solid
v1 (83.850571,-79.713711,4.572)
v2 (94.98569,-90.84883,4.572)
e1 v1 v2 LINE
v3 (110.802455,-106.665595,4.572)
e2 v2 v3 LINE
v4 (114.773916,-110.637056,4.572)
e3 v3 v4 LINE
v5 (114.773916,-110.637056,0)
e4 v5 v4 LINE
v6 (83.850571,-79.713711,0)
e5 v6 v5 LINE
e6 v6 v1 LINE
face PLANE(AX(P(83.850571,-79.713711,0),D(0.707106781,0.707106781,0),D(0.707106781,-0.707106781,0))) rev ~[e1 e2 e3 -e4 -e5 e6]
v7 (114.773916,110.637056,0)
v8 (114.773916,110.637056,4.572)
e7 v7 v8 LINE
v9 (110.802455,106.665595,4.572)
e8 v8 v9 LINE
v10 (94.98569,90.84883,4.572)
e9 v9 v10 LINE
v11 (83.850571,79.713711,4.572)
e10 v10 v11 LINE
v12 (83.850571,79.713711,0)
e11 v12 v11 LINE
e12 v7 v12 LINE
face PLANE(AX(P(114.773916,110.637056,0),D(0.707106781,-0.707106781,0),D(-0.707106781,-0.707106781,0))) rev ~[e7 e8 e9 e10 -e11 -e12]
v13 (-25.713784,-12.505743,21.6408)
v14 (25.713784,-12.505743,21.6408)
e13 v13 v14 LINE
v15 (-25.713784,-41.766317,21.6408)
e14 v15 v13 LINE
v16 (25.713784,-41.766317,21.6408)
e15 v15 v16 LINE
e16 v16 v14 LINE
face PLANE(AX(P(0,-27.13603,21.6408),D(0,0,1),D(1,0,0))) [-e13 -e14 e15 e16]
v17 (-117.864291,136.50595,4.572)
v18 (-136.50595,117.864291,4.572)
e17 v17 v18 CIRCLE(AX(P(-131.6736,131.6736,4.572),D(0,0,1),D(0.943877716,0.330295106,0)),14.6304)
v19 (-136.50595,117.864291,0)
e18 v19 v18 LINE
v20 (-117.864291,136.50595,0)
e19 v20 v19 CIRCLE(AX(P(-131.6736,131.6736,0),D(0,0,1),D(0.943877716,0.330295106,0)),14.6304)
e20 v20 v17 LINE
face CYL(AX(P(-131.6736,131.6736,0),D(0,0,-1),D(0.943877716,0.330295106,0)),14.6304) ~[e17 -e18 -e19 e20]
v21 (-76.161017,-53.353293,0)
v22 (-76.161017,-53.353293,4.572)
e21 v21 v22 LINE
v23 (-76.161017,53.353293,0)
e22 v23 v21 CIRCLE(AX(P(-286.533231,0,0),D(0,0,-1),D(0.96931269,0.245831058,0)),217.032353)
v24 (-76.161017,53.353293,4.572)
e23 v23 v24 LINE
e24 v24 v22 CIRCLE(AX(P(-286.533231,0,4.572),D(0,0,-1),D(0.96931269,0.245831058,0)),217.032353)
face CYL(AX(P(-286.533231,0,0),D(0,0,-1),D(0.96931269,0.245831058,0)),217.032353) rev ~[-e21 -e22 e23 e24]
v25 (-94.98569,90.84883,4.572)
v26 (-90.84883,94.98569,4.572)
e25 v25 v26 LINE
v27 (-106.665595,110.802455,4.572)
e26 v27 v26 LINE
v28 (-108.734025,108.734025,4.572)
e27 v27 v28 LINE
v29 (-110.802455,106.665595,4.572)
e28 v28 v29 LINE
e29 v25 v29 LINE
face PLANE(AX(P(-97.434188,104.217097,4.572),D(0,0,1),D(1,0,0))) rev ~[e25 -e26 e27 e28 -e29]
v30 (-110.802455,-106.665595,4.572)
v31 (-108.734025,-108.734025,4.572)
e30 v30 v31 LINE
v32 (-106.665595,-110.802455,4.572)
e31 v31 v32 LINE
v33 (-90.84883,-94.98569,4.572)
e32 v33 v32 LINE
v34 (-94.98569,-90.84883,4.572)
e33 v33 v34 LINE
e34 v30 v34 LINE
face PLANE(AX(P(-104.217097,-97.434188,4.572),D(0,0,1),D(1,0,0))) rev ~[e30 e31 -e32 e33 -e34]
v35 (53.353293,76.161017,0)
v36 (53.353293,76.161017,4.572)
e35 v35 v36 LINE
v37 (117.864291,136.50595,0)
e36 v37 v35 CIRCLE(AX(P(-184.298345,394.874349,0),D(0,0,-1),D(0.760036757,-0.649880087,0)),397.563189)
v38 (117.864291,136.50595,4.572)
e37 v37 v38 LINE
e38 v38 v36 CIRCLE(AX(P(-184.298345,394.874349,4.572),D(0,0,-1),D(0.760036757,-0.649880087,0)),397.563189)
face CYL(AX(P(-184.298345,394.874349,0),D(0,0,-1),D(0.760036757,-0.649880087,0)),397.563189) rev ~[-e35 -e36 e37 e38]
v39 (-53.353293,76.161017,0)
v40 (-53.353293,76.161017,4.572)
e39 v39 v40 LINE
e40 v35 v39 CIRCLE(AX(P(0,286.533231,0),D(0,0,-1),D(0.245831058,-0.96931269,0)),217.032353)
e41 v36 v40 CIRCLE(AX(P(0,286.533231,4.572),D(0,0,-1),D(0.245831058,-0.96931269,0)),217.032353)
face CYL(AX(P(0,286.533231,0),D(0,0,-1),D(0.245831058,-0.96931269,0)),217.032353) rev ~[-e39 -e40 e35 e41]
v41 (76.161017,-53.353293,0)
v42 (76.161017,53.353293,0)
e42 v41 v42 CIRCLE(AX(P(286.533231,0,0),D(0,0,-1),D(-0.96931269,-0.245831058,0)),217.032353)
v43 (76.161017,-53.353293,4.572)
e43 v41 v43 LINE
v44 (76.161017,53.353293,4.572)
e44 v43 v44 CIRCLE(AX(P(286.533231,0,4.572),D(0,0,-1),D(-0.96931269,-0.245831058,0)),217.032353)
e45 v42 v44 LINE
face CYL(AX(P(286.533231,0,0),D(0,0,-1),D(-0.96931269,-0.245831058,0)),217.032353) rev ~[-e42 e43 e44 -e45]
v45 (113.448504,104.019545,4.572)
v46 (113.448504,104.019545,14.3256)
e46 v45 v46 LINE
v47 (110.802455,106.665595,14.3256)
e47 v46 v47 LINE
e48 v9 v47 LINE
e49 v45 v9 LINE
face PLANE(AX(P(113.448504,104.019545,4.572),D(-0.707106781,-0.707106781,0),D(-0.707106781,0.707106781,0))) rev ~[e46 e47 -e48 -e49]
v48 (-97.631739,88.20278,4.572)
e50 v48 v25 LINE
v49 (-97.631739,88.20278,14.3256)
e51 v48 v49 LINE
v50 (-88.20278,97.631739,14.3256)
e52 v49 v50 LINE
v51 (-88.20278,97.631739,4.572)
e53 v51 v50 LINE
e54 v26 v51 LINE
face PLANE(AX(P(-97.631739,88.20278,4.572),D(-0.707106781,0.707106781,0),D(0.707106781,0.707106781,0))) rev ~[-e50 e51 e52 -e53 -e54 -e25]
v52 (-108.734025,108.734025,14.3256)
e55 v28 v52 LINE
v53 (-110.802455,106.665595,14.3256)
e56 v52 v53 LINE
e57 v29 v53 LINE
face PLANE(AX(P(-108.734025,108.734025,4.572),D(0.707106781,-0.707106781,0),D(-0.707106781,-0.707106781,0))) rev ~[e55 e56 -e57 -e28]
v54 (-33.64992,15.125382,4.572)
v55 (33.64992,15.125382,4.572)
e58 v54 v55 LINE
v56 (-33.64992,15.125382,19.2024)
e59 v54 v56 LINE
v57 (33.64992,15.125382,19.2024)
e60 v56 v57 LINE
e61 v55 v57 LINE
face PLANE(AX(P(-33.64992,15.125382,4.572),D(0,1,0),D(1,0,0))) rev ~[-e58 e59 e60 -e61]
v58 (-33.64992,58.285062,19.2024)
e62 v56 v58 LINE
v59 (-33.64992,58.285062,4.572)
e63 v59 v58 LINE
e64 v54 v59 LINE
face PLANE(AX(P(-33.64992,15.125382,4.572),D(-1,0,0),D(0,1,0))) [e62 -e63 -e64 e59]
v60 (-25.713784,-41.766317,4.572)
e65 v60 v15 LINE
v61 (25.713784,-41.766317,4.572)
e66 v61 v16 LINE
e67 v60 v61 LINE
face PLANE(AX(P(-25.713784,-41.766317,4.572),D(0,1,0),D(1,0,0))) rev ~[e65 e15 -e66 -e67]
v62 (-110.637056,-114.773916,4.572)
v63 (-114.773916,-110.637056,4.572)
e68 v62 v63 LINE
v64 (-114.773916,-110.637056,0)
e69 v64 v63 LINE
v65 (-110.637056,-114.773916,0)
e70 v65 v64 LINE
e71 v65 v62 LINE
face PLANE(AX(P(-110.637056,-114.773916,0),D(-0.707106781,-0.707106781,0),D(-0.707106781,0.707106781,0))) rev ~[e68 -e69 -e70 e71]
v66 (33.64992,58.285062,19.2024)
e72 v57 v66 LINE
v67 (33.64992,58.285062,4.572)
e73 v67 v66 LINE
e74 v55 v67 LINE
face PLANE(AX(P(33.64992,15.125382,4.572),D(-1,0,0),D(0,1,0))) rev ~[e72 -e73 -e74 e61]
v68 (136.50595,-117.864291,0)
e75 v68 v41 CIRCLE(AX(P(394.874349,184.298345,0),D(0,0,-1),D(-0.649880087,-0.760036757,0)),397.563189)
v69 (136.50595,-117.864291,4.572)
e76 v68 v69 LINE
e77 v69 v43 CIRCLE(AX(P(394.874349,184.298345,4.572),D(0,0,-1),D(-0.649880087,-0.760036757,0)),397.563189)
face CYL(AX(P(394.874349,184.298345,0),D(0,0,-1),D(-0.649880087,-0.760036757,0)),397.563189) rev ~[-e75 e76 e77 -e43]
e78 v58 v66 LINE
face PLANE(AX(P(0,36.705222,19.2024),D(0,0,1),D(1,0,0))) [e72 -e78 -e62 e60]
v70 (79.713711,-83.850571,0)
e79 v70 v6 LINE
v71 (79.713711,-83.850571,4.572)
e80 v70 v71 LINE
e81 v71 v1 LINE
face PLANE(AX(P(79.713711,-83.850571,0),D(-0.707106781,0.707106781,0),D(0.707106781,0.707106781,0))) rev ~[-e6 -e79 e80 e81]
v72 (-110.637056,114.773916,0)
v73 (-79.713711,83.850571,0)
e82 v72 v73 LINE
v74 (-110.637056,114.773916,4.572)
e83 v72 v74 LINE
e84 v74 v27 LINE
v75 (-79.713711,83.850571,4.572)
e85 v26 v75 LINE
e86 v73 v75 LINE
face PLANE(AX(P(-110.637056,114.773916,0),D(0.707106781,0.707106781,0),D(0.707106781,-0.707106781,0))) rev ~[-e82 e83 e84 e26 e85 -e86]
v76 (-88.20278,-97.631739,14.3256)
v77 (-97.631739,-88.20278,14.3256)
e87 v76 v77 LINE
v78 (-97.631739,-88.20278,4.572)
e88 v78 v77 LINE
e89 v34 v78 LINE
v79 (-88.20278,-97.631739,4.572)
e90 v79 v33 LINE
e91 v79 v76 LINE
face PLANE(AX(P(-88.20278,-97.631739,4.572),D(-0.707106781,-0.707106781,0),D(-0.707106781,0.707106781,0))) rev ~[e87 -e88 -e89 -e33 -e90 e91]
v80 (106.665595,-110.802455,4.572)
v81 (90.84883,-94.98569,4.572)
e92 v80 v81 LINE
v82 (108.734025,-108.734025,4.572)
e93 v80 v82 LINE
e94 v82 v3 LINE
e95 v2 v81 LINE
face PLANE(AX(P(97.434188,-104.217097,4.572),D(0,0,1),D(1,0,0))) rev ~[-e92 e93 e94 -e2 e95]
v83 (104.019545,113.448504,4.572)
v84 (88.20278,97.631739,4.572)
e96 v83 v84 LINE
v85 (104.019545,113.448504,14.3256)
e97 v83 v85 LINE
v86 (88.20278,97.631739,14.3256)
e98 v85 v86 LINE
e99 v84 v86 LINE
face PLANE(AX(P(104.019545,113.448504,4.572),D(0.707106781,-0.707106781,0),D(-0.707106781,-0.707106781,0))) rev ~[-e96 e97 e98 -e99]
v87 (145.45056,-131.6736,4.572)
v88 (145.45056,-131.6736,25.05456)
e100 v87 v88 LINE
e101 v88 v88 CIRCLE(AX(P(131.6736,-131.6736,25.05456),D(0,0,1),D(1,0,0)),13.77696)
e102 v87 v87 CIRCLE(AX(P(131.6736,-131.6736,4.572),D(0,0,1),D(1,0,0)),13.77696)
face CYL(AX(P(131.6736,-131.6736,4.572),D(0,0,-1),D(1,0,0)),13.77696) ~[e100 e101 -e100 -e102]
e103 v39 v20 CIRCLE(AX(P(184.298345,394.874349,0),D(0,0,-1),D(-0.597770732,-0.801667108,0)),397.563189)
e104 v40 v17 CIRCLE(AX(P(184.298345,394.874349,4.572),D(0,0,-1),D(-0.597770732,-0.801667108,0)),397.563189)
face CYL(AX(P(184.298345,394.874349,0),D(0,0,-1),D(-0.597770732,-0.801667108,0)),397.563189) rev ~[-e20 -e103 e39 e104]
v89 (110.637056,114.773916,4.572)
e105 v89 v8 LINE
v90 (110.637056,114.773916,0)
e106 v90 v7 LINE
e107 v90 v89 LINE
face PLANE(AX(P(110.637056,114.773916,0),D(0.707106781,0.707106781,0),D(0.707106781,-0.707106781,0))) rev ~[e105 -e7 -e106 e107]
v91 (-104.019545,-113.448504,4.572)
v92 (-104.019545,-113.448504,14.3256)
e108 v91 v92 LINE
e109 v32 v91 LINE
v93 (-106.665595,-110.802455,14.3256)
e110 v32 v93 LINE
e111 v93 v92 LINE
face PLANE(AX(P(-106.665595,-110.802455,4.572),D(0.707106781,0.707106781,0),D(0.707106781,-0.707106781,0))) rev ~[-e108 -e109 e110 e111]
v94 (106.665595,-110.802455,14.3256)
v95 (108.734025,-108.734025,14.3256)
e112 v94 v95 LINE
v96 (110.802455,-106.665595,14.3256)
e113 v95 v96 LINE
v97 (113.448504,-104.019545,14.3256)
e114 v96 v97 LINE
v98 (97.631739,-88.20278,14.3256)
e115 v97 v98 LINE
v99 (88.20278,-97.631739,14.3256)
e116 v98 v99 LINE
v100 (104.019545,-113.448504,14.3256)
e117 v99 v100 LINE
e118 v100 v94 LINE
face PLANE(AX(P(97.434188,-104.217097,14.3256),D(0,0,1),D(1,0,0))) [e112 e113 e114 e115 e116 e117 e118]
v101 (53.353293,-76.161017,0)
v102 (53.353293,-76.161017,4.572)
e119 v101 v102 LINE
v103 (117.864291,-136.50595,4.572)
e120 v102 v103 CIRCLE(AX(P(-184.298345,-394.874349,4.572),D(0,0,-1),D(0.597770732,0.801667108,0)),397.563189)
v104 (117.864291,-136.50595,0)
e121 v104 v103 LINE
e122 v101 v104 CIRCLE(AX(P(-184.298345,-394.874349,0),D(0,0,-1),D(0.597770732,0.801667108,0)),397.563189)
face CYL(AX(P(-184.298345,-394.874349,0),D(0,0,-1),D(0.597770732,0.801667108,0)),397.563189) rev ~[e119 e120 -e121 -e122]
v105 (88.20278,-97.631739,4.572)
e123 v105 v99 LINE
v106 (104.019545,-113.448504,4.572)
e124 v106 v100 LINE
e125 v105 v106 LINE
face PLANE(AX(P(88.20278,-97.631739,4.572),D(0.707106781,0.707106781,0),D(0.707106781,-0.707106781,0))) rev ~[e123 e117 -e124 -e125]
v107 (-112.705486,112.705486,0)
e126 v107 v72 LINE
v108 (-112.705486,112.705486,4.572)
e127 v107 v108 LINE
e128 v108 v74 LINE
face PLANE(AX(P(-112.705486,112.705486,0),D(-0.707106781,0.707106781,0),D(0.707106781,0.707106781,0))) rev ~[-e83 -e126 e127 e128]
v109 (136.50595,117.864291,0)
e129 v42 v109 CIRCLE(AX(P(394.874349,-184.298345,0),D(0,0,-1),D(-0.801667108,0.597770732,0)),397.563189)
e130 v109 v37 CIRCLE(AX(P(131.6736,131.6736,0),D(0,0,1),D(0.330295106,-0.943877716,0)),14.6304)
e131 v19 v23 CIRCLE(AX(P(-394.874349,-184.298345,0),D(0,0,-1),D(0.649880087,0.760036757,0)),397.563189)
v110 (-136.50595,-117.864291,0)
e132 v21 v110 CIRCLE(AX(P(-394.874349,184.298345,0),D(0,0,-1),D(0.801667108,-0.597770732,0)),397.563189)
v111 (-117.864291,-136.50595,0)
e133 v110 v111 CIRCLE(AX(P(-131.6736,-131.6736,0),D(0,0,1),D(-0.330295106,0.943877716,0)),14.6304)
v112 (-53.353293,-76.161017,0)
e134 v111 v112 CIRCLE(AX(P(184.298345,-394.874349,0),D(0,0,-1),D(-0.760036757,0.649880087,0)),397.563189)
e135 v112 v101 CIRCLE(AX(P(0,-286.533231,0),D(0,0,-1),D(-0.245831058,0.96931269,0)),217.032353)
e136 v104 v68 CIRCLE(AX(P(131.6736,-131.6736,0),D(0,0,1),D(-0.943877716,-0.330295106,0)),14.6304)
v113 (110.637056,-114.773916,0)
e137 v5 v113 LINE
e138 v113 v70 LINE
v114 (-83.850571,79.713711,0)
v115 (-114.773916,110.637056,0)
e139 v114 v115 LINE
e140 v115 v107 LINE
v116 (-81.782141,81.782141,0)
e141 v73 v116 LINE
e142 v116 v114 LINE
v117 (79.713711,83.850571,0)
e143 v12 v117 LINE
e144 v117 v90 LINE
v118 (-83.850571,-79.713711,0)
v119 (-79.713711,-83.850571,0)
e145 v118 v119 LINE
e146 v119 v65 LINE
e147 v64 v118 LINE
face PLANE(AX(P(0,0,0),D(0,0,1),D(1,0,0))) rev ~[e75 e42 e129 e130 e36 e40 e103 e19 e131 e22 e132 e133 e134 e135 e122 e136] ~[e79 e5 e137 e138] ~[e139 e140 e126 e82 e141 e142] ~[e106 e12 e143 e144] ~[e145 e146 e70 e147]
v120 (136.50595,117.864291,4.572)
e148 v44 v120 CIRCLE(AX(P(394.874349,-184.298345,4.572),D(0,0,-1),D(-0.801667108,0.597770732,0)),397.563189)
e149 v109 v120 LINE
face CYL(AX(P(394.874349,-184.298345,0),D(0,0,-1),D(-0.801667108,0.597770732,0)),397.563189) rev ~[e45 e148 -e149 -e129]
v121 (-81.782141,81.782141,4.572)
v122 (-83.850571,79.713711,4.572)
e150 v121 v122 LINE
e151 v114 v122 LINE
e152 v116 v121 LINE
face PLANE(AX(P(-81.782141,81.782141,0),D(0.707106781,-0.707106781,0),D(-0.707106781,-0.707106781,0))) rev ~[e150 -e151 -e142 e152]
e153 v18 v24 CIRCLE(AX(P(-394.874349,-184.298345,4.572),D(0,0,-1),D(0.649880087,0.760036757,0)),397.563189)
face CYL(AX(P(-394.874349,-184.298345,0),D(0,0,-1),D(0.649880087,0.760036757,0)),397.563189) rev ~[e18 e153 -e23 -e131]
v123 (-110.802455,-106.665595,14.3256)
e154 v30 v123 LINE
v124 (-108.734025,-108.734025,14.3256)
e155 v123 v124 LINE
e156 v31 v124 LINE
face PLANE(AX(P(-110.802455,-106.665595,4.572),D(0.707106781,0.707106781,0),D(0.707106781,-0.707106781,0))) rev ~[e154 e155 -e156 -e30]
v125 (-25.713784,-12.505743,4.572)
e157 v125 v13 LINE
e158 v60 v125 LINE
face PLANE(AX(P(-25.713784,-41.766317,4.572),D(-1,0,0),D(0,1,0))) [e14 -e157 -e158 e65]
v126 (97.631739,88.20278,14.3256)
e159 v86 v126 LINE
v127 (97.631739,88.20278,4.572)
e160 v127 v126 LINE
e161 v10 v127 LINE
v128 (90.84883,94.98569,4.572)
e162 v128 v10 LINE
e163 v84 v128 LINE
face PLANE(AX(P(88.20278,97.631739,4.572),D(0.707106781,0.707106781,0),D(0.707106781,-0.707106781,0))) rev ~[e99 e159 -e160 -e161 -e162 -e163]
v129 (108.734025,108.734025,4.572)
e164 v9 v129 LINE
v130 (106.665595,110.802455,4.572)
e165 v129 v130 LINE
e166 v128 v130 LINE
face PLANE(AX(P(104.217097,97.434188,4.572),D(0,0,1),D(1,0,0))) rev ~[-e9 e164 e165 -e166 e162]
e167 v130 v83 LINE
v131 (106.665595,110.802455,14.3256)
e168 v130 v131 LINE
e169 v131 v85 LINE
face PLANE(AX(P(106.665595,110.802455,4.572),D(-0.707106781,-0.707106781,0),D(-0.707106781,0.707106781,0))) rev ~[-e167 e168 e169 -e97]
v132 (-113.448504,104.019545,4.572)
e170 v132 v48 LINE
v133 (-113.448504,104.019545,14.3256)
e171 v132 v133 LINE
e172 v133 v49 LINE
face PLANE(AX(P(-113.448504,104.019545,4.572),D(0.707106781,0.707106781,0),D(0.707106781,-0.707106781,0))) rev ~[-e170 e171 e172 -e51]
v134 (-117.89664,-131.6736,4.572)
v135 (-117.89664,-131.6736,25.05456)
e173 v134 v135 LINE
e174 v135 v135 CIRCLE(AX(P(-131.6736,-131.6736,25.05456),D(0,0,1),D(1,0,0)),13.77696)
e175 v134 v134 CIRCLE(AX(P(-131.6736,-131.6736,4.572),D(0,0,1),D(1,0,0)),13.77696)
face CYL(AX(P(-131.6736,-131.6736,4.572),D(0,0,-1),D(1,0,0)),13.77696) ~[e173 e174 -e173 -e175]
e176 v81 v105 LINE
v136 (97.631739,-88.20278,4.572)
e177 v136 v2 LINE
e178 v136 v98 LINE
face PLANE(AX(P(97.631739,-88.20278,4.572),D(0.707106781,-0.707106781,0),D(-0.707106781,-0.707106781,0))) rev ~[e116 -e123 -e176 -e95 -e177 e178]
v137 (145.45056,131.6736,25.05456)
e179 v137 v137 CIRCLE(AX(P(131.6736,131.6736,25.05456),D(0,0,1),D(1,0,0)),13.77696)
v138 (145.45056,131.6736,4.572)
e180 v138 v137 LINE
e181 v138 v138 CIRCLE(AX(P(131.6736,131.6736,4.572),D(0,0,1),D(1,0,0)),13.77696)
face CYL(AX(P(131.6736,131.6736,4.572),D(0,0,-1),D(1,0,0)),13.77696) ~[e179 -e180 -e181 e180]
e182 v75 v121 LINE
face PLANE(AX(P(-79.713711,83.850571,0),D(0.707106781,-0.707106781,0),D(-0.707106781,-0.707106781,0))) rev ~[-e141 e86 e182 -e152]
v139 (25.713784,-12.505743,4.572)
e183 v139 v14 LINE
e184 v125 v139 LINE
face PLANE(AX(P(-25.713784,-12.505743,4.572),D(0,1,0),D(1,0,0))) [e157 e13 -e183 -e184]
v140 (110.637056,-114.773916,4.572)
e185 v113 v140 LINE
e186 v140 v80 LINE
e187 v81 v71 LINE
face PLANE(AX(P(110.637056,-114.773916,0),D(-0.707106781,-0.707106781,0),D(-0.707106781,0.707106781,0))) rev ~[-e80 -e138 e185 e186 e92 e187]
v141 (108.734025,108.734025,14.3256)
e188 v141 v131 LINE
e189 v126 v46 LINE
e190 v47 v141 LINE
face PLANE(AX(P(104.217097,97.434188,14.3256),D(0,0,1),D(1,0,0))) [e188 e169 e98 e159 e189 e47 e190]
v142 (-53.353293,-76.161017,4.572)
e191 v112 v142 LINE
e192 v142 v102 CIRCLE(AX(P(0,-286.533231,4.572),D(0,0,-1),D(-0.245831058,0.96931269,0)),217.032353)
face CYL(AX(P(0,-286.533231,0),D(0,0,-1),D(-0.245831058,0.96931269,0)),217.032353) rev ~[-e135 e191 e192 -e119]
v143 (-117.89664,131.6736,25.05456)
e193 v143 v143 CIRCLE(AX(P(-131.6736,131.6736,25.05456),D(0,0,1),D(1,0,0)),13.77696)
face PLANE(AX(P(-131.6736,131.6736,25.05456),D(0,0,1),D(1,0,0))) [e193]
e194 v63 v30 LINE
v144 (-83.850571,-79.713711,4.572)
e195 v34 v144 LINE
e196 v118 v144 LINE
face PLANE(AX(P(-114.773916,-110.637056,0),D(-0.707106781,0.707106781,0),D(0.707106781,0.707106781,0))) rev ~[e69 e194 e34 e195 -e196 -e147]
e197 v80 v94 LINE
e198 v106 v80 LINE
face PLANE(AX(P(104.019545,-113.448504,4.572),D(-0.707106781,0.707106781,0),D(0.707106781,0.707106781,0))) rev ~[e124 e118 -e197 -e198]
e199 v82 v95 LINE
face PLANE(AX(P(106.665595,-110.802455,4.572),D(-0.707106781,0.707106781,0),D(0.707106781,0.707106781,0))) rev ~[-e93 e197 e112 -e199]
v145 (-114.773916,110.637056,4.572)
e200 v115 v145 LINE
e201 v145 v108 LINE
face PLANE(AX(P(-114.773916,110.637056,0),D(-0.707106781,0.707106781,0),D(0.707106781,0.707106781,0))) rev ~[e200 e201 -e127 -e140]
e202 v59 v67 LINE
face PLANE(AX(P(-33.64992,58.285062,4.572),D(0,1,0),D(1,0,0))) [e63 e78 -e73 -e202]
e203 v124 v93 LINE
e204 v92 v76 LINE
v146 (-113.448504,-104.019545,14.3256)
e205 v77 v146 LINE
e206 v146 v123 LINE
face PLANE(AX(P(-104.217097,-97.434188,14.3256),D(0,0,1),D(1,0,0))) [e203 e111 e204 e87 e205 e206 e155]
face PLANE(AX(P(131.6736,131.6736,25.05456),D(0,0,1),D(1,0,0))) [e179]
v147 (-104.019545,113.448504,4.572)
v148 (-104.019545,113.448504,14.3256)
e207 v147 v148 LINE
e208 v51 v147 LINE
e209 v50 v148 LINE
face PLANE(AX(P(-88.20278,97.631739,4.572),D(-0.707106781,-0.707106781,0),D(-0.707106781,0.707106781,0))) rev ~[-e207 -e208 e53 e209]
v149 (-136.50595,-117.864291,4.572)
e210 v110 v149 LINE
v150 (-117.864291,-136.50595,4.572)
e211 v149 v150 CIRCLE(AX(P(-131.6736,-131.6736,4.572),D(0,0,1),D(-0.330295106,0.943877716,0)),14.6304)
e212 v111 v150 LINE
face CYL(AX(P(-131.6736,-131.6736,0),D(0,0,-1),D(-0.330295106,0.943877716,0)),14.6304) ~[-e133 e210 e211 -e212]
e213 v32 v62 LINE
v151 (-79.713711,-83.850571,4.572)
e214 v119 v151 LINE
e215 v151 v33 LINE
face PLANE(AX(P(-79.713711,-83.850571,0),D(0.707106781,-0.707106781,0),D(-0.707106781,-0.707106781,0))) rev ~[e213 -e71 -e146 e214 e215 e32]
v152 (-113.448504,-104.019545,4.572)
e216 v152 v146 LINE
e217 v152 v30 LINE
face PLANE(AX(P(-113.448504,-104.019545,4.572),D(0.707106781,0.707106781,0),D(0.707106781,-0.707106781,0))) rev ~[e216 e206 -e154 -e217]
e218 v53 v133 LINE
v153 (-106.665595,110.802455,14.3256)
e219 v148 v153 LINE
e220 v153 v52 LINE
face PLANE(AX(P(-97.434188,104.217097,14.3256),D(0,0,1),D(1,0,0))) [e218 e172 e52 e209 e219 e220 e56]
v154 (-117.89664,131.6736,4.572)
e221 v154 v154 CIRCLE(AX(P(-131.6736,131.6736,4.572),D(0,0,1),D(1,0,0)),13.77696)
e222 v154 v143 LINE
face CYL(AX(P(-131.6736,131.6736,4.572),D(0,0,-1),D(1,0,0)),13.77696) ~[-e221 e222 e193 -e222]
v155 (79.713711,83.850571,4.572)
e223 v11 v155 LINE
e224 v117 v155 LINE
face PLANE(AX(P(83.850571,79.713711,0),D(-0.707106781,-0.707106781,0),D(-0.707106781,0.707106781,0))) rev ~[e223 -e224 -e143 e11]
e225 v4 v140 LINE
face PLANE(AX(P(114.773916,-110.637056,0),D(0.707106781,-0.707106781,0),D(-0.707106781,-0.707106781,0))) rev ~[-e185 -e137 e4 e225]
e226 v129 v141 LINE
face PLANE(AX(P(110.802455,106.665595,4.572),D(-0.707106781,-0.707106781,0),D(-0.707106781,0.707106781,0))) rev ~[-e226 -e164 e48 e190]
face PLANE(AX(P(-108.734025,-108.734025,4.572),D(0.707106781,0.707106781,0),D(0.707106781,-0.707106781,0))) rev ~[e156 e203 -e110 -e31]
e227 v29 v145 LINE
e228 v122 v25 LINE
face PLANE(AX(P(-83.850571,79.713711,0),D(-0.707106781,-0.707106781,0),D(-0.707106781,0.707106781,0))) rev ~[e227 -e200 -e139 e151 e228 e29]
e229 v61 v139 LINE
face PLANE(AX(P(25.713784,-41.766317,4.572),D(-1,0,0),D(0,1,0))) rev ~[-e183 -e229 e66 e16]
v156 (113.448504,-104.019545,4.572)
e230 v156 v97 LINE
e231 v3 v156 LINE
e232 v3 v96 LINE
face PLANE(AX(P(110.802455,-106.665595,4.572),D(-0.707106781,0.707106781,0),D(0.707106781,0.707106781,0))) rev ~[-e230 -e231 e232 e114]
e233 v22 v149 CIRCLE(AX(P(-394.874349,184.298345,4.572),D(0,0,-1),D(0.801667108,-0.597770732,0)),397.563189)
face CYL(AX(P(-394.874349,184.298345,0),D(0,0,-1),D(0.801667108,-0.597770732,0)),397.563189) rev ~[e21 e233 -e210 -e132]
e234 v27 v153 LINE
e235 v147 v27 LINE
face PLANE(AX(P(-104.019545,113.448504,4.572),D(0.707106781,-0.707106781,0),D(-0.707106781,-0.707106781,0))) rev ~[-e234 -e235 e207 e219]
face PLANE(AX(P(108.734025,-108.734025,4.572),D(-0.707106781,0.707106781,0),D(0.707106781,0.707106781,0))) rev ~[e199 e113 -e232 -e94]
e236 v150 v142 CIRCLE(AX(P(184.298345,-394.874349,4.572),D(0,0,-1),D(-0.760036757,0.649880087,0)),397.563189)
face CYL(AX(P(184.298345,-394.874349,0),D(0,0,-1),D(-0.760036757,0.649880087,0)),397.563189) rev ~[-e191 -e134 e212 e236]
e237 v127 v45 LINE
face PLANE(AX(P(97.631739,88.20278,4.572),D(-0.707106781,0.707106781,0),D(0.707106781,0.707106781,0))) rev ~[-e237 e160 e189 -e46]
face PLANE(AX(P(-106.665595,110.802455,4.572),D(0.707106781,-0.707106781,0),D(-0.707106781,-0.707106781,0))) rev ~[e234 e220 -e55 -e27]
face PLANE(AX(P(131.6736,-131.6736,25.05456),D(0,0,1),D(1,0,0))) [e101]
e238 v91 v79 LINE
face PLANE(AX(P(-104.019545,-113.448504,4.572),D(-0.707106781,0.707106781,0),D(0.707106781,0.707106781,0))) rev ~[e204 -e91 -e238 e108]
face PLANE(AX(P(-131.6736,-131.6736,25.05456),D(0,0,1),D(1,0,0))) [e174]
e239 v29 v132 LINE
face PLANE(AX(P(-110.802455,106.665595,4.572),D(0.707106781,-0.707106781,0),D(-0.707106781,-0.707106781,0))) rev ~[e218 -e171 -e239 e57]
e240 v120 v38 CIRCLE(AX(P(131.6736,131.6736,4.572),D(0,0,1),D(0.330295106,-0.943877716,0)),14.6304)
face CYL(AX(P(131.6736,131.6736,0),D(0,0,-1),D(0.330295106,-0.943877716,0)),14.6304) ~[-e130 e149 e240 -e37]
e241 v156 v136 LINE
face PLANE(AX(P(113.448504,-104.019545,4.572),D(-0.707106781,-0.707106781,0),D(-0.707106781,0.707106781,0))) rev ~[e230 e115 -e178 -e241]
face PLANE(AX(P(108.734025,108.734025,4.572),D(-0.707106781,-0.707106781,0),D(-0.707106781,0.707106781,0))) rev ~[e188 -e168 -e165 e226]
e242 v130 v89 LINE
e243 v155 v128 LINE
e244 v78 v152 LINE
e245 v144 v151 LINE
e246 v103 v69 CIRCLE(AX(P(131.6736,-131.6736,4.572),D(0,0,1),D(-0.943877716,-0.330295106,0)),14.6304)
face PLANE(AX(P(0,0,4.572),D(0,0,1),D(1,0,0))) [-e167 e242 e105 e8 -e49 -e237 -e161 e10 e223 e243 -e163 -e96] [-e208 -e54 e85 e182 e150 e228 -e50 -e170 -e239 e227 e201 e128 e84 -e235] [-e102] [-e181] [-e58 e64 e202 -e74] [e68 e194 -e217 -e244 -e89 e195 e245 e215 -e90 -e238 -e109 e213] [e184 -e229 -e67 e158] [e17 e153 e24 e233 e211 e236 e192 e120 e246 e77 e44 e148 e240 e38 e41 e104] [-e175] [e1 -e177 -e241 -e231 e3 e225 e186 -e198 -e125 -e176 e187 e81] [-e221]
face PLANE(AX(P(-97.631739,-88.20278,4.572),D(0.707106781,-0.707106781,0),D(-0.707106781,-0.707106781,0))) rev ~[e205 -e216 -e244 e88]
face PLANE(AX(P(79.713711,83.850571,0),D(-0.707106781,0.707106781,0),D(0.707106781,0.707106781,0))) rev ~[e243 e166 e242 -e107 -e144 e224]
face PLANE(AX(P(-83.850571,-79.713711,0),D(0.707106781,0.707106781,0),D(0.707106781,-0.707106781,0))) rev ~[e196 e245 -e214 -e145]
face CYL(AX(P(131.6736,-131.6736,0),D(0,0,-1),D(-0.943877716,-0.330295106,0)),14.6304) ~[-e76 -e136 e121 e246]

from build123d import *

# Parameters (mm, degrees)
F1_DEPTH = 4.7625
F2_R     = 14.351
F3_DEPTH = 21.336
F4_DEPTH = 10.16
F2_W     = 70.104
F2_H     = 44.958
F5_DEPTH = 15.24
F2_W_2   = 53.570382297
F2_H_2   = 30.4797645658
F6_DEPTH = 17.78
F7_SCALE = 0.96


with BuildPart() as f1:
    # F0 (on Top) → F1 (new body)
    with BuildSketch(Plane.XY):
        with BuildLine():
            ThreePointArc((-55.5763468146, 79.3343931437), (-90.9271049645, 108.8918614568), (-122.7753036062, 142.1936974142))
            ThreePointArc((-122.7753036062, 142.1936974142), (-147.9363073453, 147.9363073453), (-142.1936974142, 122.7753036062))
            ThreePointArc((-142.1936974142, 122.7753036062), (-108.8918614568, 90.9271049645), (-79.3343931437, 55.5763468146))
            ThreePointArc((-79.3343931437, 55.5763468146), (-72.3967482518, 0), (-79.3343931437, -55.5763468146))
            ThreePointArc((-79.3343931437, -55.5763468146), (-108.8918614568, -90.9271049645), (-142.1936974142, -122.7753036062))
            ThreePointArc((-142.1936974142, -122.7753036062), (-147.9363073453, -147.9363073453), (-122.7753036062, -142.1936974142))
            ThreePointArc((-122.7753036062, -142.1936974142), (-90.9271049645, -108.8918614568), (-55.5763468146, -79.3343931437))
            ThreePointArc((-55.5763468146, -79.3343931437), (0, -72.3967482518), (55.5763468146, -79.3343931437))
            ThreePointArc((55.5763468146, -79.3343931437), (90.9271049645, -108.8918614568), (122.7753036062, -142.1936974142))
            ThreePointArc((122.7753036062, -142.1936974142), (147.9363073453, -147.9363073453), (142.1936974142, -122.7753036062))
            ThreePointArc((142.1936974142, -122.7753036062), (108.8918614568, -90.9271049645), (79.3343931437, -55.5763468146))
            ThreePointArc((79.3343931437, -55.5763468146), (72.3967482518, 0), (79.3343931437, 55.5763468146))
            ThreePointArc((79.3343931437, 55.5763468146), (108.8918614568, 90.9271049645), (142.1936974142, 122.7753036062))
            ThreePointArc((142.1936974142, 122.7753036062), (147.9363073453, 147.9363073453), (122.7753036062, 142.1936974142))
            ThreePointArc((122.7753036062, 142.1936974142), (90.9271049645, 108.8918614568), (55.5763468146, 79.3343931437))
            ThreePointArc((55.5763468146, 79.3343931437), (0, 72.3967482518), (-55.5763468146, 79.3343931437))
        make_face()
        Polygon((-115.2469329536, -119.5561625063), (-119.5561625063, -115.2469329536), (-87.3443447053, -83.0351151526), (-83.0351151526, -87.3443447053), align=None, mode=Mode.SUBTRACT)
        Polygon((115.2469329536, -119.5561625063), (83.0351151526, -87.3443447053), (87.3443447053, -83.0351151526), (119.5561625063, -115.2469329536), align=None, mode=Mode.SUBTRACT)
        Polygon((-119.5561625063, 115.2469329536), (-117.40154773, 117.40154773), (-115.2469329536, 119.5561625063), (-83.0351151526, 87.3443447053), (-85.189729929, 85.189729929), (-87.3443447053, 83.0351151526), align=None, mode=Mode.SUBTRACT)
        Polygon((87.3443447053, 83.0351151526), (83.0351151526, 87.3443447053), (115.2469329536, 119.5561625063), (119.5561625063, 115.2469329536), align=None, mode=Mode.SUBTRACT)
    extrude(amount=F1_DEPTH)

    # F2 (on face) → F3 (join)
    with BuildSketch(Plane.XY.offset(4.7625)):
        with Locations((-137.16, 137.16)):
            Circle(F2_R)
        with Locations((137.16, 137.16)):
            Circle(F2_R)
        with Locations((137.16, -137.16)):
            Circle(F2_R)
        with Locations((-137.16, -137.16)):
            Circle(F2_R)
    extrude(amount=F3_DEPTH)

    # F2 (on face) → F4 (join)
    with BuildSketch(Plane.XY.offset(4.7625)):
        Polygon((-108.3536930382, 118.1755252182), (-111.1099943519, 115.4192239046), (-94.6341976523, 98.9434272051), (-91.8778963387, 101.6997285187), align=None)
        Polygon((-111.1099943519, 115.4192239046), (-113.2646091282, 113.2646091282), (-115.4192239046, 111.1099943519), (-98.9434272051, 94.6341976523), (-96.7888124287, 96.7888124287), (-94.6341976523, 98.9434272051), align=None)
        Polygon((-98.9434272051, 94.6341976523), (-115.4192239046, 111.1099943519), (-118.1755252182, 108.3536930382), (-101.6997285187, 91.8778963387), align=None)
        Polygon((118.1755252182, 108.3536930382), (115.4192239046, 111.1099943519), (98.9434272051, 94.6341976523), (101.6997285187, 91.8778963387), align=None)
        Polygon((115.4192239046, 111.1099943519), (113.2646091282, 113.2646091282), (111.1099943519, 115.4192239046), (94.6341976523, 98.9434272051), (96.7888124287, 96.7888124287), (98.9434272051, 94.6341976523), align=None)
        Polygon((94.6341976523, 98.9434272051), (111.1099943519, 115.4192239046), (108.3536930382, 118.1755252182), (91.8778963387, 101.6997285187), align=None)
        Polygon((91.8778963387, -101.6997285187), (108.3536930382, -118.1755252182), (111.1099943519, -115.4192239046), (94.6341976523, -98.9434272051), align=None)
        Polygon((94.6341976523, -98.9434272051), (111.1099943519, -115.4192239046), (113.2646091282, -113.2646091282), (115.4192239046, -111.1099943519), (98.9434272051, -94.6341976523), (96.7888124287, -96.7888124287), align=None)
        Polygon((98.9434272051, -94.6341976523), (115.4192239046, -111.1099943519), (118.1755252182, -108.3536930382), (101.6997285187, -91.8778963387), align=None)
        Polygon((-98.9434272051, -94.6341976523), (-101.6997285187, -91.8778963387), (-118.1755252182, -108.3536930382), (-115.4192239046, -111.1099943519), align=None)
        Polygon((-96.7888124287, -96.7888124287), (-98.9434272051, -94.6341976523), (-115.4192239046, -111.1099943519), (-113.2646091282, -113.2646091282), (-111.1099943519, -115.4192239046), (-94.6341976523, -98.9434272051), align=None)
        Polygon((-91.8778963387, -101.6997285187), (-94.6341976523, -98.9434272051), (-111.1099943519, -115.4192239046), (-108.3536930382, -118.1755252182), align=None)
    extrude(amount=F4_DEPTH)

    # F2 (on face) → F5 (join)
    with BuildSketch(Plane.XY.offset(4.7625)):
        with Locations((0, 38.2346063852)):
            Rectangle(F2_W, F2_H)
    extrude(amount=F5_DEPTH)

    # F2 (on face) → F6 (join)
    with BuildSketch(Plane.XY.offset(4.7625)):
        with Locations((0, -28.266698122)):
            Rectangle(F2_W_2, F2_H_2)
    extrude(amount=F6_DEPTH)


with BuildPart() as f1_1:
    # F7: moved
    add(f1.part.scale(F7_SCALE))


solid = f1_1.part
